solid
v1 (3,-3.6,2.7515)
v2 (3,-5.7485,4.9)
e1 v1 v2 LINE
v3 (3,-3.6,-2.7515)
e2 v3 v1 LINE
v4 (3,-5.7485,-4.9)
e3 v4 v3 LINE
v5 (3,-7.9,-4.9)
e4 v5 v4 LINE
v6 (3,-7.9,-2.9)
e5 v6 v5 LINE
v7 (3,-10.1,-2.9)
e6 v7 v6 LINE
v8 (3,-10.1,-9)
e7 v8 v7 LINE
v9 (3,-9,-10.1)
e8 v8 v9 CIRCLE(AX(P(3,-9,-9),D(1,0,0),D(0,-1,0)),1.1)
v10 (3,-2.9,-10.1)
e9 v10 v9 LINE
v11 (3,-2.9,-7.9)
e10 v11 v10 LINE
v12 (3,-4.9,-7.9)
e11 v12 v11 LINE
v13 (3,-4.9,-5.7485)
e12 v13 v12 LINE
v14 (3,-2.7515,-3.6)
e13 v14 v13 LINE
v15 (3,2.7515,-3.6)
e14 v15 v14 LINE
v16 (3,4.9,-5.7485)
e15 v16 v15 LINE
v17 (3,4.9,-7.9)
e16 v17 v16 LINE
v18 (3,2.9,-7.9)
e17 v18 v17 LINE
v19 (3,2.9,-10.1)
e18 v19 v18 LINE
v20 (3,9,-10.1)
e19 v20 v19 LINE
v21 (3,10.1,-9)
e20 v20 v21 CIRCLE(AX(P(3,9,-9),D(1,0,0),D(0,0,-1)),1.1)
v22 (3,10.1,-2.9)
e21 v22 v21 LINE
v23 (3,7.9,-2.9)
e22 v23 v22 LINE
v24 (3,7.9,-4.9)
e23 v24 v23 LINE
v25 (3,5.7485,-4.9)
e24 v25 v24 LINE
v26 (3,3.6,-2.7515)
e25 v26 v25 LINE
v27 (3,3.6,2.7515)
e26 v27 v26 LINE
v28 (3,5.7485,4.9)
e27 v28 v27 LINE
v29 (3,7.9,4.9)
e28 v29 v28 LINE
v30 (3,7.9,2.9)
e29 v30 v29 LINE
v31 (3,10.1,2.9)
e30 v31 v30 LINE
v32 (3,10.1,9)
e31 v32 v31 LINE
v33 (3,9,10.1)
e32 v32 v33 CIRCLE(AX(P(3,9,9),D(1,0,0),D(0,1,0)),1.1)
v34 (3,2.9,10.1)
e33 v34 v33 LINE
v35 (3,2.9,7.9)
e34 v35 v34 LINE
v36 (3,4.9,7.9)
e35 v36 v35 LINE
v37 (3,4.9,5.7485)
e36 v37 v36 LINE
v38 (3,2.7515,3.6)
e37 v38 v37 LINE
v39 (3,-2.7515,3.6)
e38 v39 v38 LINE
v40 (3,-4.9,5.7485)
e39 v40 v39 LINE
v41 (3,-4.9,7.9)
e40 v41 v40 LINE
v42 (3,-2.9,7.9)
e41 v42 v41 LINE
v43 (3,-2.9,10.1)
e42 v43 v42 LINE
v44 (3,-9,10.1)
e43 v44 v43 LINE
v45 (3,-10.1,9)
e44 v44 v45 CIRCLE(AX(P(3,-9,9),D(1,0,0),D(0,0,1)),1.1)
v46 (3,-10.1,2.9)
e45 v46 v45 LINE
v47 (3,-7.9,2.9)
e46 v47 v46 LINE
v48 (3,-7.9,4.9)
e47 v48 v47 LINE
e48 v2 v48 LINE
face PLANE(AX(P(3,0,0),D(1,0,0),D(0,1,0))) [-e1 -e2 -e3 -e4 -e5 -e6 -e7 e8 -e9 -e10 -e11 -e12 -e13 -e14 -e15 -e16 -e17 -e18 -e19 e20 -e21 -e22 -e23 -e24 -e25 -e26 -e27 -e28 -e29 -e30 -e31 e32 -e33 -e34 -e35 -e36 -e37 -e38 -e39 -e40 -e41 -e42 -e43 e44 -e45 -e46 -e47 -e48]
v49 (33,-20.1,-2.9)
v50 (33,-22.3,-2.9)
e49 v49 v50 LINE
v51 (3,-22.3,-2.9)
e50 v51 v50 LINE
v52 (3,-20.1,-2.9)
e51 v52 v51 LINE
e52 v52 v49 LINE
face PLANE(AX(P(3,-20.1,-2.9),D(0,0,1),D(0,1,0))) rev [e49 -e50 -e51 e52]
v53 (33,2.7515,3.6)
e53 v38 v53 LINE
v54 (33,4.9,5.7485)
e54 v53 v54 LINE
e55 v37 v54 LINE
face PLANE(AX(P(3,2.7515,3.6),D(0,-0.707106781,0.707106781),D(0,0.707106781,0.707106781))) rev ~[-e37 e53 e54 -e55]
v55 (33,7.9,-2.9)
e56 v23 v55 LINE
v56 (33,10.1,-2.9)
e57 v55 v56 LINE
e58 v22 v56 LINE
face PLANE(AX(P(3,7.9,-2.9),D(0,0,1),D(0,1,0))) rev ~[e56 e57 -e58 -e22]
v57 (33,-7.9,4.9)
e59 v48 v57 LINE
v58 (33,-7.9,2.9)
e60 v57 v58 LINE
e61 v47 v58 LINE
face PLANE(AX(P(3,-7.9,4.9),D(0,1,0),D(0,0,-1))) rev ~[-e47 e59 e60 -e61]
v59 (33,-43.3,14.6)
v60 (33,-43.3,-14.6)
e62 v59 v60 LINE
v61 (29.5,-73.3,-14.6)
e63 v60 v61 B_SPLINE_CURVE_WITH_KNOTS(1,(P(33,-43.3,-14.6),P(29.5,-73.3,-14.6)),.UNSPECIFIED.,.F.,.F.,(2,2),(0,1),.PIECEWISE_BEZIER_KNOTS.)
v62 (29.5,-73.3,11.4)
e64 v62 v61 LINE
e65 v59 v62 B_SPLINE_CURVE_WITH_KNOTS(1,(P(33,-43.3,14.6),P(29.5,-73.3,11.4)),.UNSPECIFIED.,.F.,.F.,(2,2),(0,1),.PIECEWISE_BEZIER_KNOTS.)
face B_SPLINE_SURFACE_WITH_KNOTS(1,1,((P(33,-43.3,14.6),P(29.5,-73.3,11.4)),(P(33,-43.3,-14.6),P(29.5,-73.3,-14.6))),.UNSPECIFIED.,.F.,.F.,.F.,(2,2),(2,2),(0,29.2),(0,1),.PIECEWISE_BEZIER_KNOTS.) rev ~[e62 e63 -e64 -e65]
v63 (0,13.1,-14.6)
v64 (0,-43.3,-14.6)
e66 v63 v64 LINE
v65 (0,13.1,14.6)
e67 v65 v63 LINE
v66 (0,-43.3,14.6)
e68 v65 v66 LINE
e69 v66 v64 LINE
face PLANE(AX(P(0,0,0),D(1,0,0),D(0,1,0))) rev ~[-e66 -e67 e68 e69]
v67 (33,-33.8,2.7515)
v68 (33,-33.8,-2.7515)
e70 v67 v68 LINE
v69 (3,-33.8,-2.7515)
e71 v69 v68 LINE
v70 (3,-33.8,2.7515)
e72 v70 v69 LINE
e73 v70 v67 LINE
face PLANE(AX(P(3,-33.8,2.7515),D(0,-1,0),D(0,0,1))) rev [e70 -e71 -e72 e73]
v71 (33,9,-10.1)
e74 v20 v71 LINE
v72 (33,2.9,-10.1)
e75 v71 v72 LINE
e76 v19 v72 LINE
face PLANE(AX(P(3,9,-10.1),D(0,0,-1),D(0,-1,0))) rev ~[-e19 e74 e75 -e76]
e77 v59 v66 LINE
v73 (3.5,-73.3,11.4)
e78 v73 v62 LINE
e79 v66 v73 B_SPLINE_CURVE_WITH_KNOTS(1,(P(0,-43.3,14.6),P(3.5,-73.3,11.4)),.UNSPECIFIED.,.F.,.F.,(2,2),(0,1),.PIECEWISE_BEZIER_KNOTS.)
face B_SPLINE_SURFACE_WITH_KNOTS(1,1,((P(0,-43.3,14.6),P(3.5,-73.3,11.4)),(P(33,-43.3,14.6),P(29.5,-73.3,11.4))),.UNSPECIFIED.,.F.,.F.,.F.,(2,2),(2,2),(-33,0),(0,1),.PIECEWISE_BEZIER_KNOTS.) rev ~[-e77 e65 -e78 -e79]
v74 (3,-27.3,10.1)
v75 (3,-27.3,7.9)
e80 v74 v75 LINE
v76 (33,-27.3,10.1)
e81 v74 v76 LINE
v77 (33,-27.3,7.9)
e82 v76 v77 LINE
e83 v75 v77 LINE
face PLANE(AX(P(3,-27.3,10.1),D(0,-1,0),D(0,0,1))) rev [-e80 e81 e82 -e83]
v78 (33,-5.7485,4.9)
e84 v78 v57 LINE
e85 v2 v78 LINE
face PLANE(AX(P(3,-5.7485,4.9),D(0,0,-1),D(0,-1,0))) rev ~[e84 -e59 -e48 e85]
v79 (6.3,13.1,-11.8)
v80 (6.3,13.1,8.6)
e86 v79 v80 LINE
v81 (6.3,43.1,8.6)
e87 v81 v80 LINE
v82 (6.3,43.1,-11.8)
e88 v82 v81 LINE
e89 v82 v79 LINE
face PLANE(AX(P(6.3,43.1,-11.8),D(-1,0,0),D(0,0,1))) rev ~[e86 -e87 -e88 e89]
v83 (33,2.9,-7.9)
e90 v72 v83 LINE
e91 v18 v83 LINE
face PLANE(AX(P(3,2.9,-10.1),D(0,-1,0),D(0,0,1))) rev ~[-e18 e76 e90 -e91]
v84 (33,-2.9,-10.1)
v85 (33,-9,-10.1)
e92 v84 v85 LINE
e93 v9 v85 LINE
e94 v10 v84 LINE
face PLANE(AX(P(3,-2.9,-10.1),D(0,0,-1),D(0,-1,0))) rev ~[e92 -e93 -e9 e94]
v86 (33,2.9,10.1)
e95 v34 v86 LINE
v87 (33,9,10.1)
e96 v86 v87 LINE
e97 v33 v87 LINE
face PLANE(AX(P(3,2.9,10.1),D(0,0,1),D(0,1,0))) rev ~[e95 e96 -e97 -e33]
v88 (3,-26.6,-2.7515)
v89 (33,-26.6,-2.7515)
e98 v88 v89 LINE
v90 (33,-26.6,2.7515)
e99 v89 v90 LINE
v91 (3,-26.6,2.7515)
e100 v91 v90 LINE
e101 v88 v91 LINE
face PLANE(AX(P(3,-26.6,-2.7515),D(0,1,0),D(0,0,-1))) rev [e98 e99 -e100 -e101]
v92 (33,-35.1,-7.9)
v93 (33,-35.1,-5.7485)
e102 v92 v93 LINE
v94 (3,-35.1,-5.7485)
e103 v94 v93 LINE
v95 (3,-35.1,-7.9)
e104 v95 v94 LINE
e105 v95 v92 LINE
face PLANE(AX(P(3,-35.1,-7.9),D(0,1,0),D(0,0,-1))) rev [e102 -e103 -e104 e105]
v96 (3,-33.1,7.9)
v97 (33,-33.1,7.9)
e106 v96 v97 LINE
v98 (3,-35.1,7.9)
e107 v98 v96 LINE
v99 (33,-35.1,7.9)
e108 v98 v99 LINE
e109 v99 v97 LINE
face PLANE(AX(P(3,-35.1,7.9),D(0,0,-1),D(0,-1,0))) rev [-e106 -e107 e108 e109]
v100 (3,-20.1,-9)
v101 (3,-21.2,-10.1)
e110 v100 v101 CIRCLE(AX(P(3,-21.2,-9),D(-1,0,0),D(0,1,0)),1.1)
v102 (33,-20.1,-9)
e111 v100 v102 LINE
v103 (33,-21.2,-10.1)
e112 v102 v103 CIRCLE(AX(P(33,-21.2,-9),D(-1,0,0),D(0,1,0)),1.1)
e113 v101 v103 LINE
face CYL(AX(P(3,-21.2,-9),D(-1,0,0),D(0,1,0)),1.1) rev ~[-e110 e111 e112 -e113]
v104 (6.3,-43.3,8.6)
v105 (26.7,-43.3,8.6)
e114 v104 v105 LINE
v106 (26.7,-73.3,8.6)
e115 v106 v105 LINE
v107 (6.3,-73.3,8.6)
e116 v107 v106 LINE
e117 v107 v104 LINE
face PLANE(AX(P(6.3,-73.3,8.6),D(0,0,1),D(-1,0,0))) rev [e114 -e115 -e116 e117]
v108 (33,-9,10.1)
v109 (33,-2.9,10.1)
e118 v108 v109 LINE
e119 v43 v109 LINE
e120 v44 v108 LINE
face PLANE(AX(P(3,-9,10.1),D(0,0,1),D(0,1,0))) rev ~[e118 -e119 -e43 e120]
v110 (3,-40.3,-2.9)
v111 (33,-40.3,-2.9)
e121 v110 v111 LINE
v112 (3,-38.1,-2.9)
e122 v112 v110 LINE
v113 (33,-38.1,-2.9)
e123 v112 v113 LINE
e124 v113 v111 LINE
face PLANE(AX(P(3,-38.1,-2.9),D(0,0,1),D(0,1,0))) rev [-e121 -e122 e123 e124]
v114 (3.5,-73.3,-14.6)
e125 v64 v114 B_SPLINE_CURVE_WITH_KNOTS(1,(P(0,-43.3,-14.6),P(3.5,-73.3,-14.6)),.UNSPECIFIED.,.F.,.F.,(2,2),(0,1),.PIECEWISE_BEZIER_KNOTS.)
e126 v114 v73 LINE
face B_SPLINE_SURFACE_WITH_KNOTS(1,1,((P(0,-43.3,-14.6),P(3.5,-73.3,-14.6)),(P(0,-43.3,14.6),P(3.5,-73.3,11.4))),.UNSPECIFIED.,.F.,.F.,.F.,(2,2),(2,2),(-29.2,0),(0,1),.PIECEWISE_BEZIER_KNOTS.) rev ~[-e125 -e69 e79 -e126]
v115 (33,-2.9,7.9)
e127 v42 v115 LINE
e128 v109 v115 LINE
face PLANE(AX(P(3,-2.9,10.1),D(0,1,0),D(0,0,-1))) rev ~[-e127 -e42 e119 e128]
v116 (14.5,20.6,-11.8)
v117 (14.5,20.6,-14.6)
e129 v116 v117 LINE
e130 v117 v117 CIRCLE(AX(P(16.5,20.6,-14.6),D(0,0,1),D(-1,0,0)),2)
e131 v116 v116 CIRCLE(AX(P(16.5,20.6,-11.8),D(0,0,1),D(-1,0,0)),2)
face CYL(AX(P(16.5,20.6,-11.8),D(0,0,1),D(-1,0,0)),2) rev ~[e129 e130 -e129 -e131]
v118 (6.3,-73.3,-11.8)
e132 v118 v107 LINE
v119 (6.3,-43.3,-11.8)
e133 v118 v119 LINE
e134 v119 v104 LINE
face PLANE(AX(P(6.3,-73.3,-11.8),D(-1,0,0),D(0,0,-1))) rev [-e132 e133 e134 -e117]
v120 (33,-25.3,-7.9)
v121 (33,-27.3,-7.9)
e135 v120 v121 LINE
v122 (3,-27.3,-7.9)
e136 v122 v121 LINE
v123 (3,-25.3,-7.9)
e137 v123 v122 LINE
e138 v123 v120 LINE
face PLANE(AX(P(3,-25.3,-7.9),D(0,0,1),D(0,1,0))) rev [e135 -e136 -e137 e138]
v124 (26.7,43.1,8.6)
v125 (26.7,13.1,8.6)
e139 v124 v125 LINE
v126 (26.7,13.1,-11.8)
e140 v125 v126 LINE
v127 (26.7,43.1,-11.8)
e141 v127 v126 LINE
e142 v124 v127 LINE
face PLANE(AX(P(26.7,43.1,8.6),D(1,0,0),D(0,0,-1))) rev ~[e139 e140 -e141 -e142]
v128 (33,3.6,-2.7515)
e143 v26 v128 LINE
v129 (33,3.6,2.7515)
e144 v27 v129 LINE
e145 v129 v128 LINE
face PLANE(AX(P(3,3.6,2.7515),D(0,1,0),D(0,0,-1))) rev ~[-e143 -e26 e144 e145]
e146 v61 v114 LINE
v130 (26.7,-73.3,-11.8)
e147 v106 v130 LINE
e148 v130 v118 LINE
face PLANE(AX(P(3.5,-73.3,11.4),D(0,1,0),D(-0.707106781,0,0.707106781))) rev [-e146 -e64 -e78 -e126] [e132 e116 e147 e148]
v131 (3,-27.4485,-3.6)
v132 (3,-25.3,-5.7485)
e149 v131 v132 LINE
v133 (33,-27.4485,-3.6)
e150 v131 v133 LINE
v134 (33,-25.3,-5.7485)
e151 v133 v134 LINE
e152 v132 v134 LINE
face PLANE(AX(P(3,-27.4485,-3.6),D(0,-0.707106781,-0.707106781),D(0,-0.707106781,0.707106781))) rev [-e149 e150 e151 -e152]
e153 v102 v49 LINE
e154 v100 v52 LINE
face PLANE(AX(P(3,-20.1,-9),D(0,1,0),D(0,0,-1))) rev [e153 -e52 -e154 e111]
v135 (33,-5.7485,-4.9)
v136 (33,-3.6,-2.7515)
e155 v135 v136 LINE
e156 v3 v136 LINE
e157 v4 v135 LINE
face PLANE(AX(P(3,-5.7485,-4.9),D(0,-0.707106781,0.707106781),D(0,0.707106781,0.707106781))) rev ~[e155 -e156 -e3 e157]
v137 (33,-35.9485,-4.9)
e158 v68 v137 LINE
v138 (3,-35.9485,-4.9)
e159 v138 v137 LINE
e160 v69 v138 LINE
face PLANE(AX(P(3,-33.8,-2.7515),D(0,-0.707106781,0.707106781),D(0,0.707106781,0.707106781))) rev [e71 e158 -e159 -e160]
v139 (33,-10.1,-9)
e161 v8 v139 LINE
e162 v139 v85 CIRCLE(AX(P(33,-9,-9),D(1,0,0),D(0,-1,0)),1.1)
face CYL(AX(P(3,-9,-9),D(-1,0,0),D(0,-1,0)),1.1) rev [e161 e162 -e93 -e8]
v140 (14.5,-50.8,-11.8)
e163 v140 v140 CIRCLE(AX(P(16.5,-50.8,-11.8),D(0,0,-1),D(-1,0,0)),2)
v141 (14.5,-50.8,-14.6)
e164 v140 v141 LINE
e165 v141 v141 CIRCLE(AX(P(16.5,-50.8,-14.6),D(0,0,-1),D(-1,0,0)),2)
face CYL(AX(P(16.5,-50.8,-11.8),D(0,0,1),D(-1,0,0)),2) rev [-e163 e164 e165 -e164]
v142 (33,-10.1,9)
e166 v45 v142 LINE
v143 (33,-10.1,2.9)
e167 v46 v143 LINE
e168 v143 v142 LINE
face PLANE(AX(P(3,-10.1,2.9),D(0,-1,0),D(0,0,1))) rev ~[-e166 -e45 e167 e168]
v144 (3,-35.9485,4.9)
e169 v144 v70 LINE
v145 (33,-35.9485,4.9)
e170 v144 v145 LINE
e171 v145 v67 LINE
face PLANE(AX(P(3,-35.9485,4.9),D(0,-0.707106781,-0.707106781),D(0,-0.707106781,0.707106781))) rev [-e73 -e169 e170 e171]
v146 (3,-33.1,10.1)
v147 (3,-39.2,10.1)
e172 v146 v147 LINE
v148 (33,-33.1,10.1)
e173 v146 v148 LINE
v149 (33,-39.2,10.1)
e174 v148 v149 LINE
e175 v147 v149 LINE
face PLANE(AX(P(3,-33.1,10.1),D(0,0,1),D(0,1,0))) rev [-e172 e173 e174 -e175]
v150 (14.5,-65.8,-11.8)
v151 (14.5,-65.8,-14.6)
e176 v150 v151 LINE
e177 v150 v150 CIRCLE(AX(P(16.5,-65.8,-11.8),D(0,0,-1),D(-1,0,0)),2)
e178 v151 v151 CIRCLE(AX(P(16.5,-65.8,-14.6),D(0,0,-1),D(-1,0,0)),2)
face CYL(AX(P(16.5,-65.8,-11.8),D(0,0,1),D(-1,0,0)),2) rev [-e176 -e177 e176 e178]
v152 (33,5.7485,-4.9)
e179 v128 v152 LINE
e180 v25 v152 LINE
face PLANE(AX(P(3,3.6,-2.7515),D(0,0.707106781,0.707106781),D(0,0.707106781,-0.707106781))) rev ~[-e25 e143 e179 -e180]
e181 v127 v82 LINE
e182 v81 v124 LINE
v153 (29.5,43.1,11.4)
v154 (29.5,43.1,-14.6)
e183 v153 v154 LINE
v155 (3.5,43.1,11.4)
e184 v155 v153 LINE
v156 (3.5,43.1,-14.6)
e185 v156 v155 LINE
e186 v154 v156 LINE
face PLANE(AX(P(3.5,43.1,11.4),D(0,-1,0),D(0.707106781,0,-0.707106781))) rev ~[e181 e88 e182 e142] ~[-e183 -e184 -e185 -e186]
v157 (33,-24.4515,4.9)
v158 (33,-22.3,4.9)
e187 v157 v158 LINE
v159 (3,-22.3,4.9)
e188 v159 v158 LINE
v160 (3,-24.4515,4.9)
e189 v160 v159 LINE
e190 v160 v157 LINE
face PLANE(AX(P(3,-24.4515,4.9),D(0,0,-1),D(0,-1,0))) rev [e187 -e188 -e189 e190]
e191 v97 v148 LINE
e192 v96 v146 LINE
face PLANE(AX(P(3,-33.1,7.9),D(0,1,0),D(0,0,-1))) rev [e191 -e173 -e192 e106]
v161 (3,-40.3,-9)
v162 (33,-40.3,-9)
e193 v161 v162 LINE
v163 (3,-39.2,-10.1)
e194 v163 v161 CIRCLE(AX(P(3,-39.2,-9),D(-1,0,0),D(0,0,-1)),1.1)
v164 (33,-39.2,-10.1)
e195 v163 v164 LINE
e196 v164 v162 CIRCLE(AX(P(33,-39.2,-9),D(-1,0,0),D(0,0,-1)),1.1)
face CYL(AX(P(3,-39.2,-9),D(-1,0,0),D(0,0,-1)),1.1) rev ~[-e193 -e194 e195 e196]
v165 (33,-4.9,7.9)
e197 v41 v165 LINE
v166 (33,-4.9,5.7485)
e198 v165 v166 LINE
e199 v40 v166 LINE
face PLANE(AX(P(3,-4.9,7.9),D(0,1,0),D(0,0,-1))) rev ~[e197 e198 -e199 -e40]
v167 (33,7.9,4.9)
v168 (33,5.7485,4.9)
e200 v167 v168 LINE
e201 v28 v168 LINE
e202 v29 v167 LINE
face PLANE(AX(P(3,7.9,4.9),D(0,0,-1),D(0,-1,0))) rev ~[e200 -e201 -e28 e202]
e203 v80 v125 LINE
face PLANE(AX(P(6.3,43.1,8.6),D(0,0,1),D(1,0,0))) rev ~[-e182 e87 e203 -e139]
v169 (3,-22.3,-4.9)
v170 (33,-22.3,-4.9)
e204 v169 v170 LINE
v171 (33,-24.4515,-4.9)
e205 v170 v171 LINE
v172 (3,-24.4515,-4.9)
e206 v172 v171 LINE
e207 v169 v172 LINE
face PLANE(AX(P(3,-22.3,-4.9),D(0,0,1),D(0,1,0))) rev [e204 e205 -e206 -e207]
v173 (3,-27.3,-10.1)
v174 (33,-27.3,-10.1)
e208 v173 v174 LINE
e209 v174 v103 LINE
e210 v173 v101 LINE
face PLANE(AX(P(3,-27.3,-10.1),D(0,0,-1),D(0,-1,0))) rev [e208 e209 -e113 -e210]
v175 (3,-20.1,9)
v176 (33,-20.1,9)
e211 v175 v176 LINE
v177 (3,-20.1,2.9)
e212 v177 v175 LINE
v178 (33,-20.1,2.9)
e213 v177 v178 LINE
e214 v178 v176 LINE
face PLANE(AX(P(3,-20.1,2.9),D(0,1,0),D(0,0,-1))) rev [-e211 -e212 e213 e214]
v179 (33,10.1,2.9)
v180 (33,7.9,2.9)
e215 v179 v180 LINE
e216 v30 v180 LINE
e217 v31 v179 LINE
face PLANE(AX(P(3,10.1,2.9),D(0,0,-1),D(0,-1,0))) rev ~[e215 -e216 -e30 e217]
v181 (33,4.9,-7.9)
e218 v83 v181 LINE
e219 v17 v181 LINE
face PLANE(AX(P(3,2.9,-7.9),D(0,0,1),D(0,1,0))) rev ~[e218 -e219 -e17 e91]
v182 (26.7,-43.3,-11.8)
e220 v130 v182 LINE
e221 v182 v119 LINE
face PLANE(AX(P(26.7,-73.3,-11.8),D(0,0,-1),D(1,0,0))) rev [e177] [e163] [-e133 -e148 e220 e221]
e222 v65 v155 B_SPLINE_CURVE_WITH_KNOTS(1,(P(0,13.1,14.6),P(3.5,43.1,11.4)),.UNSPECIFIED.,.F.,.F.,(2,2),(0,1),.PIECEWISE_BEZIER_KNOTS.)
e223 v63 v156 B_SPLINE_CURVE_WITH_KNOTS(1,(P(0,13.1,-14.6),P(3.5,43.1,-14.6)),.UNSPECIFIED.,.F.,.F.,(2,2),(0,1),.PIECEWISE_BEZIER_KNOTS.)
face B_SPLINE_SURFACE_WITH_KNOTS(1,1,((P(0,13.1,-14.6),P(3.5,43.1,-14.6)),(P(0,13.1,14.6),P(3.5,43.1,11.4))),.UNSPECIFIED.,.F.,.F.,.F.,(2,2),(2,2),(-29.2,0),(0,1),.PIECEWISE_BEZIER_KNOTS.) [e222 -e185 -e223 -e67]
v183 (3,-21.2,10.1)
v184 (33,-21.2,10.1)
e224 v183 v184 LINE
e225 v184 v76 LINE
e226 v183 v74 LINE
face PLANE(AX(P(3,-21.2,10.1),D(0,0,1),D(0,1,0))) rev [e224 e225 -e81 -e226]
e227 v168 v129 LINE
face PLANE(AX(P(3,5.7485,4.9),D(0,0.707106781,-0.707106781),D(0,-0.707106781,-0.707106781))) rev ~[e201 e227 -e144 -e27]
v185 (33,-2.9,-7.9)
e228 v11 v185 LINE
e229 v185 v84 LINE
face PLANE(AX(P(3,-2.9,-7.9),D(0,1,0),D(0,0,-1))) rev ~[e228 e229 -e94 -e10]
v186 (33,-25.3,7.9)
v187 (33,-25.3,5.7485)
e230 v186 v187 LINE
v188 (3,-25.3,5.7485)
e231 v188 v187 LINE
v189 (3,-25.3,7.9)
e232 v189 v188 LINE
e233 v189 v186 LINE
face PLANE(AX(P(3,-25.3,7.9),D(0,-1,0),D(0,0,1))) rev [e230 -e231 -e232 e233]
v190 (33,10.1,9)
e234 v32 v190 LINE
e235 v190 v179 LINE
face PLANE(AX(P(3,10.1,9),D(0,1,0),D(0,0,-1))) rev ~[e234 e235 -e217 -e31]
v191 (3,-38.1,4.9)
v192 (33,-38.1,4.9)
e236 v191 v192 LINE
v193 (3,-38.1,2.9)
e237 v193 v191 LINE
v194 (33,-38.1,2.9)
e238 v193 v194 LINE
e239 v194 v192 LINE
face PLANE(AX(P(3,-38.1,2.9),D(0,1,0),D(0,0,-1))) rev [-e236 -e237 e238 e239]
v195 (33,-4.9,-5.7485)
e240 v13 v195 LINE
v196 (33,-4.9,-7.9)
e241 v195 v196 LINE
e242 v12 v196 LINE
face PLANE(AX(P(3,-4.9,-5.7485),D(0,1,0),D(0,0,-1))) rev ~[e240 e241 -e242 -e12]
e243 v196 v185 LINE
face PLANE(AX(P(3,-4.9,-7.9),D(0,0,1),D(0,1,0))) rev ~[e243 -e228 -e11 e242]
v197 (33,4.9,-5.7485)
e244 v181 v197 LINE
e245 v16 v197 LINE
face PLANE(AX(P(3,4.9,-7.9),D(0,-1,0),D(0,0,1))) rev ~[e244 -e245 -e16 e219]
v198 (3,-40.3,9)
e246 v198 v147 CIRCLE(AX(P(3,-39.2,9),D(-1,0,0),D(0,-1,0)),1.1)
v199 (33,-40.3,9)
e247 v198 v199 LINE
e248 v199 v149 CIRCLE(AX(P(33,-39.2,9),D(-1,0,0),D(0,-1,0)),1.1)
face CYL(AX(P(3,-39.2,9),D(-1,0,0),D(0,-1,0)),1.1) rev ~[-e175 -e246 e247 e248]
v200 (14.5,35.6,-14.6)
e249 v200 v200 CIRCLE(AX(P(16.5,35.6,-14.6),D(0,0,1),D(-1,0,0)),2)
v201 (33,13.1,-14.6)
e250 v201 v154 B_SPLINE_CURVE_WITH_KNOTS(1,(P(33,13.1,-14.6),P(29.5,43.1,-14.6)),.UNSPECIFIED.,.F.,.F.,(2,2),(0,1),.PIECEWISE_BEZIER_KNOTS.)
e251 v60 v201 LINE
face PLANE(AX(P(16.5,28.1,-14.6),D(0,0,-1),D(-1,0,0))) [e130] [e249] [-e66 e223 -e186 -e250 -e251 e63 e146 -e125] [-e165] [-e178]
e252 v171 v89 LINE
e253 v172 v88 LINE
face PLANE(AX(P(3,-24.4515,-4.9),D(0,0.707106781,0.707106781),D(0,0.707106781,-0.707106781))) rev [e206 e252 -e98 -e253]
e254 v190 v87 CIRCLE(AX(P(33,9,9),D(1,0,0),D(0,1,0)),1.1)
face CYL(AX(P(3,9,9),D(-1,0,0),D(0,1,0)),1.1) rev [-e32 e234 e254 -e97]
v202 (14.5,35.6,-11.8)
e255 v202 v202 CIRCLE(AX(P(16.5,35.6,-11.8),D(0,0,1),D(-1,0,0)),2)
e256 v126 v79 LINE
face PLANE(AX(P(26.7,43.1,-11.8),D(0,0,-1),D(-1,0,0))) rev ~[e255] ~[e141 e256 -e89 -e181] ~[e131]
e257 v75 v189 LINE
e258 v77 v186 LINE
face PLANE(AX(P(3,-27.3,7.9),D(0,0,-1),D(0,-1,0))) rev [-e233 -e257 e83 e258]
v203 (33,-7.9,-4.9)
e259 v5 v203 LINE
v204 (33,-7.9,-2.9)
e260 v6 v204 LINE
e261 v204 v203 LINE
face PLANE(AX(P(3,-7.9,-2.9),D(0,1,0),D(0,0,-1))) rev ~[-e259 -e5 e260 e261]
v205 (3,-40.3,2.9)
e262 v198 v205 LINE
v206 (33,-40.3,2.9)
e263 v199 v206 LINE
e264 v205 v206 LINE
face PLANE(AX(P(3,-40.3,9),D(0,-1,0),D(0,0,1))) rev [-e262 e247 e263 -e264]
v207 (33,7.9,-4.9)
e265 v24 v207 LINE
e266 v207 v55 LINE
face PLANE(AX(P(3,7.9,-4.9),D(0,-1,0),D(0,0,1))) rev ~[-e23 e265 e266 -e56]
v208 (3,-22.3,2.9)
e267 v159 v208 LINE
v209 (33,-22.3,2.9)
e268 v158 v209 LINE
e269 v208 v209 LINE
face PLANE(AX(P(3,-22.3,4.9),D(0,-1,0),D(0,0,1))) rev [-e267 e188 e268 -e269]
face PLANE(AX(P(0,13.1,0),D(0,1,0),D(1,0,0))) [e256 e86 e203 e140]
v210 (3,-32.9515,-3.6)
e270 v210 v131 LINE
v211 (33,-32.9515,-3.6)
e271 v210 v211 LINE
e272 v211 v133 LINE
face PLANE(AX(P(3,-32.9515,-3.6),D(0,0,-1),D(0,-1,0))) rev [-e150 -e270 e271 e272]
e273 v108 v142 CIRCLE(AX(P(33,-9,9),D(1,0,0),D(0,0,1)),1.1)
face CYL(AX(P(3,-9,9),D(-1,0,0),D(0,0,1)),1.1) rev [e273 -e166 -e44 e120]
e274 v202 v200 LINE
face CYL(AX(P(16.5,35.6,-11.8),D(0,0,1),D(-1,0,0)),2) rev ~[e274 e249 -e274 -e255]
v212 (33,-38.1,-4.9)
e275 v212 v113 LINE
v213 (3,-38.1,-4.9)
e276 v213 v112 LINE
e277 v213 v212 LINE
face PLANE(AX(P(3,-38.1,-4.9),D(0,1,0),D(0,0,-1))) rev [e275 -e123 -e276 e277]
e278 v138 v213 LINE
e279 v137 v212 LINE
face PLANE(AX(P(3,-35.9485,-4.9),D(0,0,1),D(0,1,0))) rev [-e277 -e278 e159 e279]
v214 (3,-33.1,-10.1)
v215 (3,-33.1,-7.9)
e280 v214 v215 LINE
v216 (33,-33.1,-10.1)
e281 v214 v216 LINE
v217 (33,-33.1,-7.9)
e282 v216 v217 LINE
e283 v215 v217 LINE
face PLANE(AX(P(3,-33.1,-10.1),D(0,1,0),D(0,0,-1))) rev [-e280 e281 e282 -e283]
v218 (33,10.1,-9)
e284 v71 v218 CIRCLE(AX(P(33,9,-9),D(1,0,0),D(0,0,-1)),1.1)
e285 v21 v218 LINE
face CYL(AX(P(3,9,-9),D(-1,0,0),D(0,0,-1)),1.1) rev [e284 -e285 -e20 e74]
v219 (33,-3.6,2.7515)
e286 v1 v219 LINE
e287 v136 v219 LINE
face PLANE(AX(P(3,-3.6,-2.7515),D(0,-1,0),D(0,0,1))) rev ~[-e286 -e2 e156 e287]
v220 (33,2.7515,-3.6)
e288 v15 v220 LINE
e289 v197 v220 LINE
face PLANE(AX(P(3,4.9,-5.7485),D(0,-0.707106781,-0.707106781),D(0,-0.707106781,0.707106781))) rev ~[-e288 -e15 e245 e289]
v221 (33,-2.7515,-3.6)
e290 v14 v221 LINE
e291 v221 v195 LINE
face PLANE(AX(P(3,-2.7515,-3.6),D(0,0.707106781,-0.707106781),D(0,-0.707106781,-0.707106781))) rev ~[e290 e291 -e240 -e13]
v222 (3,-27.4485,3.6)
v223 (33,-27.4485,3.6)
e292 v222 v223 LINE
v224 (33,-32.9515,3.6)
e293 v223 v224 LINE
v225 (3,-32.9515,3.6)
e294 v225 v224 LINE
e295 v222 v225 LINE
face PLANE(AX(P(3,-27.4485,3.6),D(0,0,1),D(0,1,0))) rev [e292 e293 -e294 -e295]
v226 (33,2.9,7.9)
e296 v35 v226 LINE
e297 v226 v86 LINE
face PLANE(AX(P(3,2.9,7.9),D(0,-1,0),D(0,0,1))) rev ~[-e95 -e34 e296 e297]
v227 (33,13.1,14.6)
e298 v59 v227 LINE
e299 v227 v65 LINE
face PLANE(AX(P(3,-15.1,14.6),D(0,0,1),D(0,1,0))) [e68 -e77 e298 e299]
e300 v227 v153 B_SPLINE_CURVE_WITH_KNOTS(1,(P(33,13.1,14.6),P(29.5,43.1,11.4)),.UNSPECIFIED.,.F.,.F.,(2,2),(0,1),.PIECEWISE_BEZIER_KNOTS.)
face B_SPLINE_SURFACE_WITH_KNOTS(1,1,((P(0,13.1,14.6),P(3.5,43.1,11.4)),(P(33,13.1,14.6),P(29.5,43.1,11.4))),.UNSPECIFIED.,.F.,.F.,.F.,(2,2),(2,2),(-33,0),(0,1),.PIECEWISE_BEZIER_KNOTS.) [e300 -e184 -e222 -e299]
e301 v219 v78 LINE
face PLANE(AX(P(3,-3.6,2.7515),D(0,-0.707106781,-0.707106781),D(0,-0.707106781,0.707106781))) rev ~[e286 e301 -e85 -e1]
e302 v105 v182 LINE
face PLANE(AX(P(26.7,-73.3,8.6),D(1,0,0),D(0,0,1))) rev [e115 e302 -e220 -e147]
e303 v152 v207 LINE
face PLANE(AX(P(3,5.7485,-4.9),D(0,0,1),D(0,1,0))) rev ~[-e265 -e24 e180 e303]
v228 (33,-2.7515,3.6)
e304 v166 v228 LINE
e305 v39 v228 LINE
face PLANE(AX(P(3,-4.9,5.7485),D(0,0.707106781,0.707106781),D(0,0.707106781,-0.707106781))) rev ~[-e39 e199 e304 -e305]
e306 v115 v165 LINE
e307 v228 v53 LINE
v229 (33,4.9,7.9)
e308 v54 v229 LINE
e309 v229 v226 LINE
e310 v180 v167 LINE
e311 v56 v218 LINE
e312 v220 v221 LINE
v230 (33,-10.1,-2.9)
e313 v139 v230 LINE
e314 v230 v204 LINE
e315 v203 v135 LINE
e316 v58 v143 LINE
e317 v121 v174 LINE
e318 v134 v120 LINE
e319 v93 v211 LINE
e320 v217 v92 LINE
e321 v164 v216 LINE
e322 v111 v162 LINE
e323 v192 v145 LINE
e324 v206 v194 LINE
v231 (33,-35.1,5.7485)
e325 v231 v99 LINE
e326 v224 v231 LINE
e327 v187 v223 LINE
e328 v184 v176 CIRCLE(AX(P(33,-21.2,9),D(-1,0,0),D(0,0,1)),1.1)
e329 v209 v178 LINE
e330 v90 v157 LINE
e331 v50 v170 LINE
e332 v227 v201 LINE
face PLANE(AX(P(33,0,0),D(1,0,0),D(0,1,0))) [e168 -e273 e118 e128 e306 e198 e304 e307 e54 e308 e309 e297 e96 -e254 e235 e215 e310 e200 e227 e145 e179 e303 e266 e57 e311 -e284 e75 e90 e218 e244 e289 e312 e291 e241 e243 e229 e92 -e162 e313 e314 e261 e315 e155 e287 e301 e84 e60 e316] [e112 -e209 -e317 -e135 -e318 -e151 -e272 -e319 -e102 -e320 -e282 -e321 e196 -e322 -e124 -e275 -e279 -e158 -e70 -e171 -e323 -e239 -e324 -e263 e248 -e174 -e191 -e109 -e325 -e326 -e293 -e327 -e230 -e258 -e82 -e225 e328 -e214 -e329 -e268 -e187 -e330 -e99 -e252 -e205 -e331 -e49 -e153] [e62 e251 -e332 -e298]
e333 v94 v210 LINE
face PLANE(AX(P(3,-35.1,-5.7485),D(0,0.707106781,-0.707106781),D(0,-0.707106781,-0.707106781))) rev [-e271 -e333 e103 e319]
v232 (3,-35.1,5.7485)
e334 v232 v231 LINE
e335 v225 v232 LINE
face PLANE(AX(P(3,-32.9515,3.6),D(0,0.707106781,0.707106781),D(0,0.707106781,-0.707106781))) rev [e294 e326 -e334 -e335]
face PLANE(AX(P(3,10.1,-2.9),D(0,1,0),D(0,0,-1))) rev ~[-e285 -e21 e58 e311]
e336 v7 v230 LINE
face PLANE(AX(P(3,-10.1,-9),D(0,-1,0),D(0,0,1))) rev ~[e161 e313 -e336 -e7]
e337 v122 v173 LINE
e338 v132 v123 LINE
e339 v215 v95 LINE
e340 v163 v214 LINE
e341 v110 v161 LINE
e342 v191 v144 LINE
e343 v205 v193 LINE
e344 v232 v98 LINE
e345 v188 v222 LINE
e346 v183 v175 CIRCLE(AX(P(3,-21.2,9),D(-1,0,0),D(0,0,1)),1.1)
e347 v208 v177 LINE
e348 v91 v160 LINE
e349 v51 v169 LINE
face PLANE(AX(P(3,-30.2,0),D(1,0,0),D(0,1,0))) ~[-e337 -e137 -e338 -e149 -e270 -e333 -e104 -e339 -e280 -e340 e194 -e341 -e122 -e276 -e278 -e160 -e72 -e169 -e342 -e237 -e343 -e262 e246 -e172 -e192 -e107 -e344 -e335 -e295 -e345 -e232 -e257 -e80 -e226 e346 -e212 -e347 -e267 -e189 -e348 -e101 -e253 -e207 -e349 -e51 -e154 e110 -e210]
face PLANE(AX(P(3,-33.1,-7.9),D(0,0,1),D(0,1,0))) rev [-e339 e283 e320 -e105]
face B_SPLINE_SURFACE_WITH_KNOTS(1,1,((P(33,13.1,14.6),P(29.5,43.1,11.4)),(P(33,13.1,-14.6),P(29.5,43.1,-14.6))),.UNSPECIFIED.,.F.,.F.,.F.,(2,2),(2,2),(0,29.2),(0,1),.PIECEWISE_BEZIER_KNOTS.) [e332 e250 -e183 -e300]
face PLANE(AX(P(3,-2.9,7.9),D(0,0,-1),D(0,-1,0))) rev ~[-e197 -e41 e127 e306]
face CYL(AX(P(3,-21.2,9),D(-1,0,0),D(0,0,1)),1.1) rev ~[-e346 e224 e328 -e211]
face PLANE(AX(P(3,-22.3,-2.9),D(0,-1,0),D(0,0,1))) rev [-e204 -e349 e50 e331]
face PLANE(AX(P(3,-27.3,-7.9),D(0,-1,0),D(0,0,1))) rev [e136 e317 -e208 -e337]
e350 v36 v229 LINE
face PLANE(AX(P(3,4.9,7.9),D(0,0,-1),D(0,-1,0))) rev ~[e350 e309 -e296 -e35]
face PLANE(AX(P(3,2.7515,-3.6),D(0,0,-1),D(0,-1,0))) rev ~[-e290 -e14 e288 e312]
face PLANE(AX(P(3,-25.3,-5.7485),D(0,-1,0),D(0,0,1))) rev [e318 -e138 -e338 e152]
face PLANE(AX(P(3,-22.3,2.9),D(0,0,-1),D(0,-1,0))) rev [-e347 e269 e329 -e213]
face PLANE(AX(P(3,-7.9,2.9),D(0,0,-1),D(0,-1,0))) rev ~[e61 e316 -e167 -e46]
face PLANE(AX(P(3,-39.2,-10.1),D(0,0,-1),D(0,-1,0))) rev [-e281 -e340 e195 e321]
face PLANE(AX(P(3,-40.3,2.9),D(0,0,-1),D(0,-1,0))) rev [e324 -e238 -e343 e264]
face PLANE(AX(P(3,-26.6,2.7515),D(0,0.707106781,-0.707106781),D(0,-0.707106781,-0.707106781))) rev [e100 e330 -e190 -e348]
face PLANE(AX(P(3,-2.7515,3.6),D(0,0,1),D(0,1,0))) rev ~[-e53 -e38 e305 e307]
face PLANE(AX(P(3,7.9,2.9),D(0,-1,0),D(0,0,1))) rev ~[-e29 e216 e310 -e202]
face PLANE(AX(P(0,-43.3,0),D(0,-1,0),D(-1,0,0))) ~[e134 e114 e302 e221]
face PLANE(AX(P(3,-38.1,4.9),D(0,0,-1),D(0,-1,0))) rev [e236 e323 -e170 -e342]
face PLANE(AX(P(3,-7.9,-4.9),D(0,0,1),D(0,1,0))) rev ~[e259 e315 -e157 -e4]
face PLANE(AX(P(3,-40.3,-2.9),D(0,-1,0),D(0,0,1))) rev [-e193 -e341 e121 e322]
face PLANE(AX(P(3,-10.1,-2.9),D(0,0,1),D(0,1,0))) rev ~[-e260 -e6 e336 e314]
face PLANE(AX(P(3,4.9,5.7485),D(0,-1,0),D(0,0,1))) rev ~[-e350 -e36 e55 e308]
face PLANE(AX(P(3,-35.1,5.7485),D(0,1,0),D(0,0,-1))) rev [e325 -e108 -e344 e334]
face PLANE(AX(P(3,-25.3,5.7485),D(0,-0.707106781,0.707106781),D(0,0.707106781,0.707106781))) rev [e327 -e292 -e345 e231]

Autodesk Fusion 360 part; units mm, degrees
sketch "Sketch1" plane through (0, 0, 0) normal (1, 0, 0) x (0, 1, 0)
  line L0 (7.9, 2.9) -> (7.9, 4.9)
  line L1 (-2.7515, -3.6) -> (-4.9, -5.7485)
  line L2 (2.9, -7.9) -> (4.9, -7.9)
  line L3 (-2.9, -7.9) -> (-2.9, -10.1)
  arc A0 (-10.1, -9) -> (-9, -10.1) centre (-9, -9) ccw
  line L4 (5.7485, 4.9) -> (3.6, 2.7515)
  line L5 (-7.9, 2.9) -> (-10.1, 2.9)
  line L6 (-4.9, -7.9) -> (-2.9, -7.9)
  line L7 (4.9, 5.7485) -> (4.9, 7.9)
  line L8 (10.1, 2.9) -> (7.9, 2.9)
  line L9 (9, -10.1) -> (2.9, -10.1)
  arc A1 (9, -10.1) -> (10.1, -9) centre (9, -9) ccw
  line L10 (4.9, -5.7485) -> (2.7515, -3.6)
  line L11 (5.7485, -4.9) -> (7.9, -4.9)
  line L12 (-10.1, 2.9) -> (-10.1, 9)
  line L13 (7.9, -2.9) -> (10.1, -2.9)
  line L14 (-3.6, 2.7515) -> (-5.7485, 4.9)
  line L15 (10.1, -2.9) -> (10.1, -9)
  line L16 (-2.9, 10.1) -> (-2.9, 7.9)
  line L17 (7.9, -4.9) -> (7.9, -2.9)
  line L18 (-3.6, -2.7515) -> (-3.6, 2.7515)
  line L19 (3.6, 2.7515) -> (3.6, -2.7515)
  line L20 (2.7515, -3.6) -> (-2.7515, -3.6)
  line L21 (-10.1, -9) -> (-10.1, -2.9)
  line L22 (10.1, 9) -> (10.1, 2.9)
  line L23 (2.9, 7.9) -> (2.9, 10.1)
  line L24 (7.9, 4.9) -> (5.7485, 4.9)
  line L25 (-2.9, -10.1) -> (-9, -10.1)
  line L26 (-2.7515, 3.6) -> (2.7515, 3.6)
  arc A2 (-9, 10.1) -> (-10.1, 9) centre (-9, 9) ccw
  line L27 (4.9, 7.9) -> (2.9, 7.9)
  line L28 (-7.9, -4.9) -> (-5.7485, -4.9)
  line L29 (2.9, 10.1) -> (9, 10.1)
  arc A3 (10.1, 9) -> (9, 10.1) centre (9, 9) ccw
  line L30 (-4.9, -5.7485) -> (-4.9, -7.9)
  line L31 (-7.9, -2.9) -> (-7.9, -4.9)
  line L32 (-4.9, 7.9) -> (-4.9, 5.7485)
  line L33 (2.7515, 3.6) -> (4.9, 5.7485)
  line L34 (-4.9, 5.7485) -> (-2.7515, 3.6)
  line L35 (-10.1, -2.9) -> (-7.9, -2.9)
  line L36 (3.6, -2.7515) -> (5.7485, -4.9)
  line L37 (4.9, -7.9) -> (4.9, -5.7485)
  line L38 (2.9, -10.1) -> (2.9, -7.9)
  line L39 (-5.7485, -4.9) -> (-3.6, -2.7515)
  line L40 (-7.9, 4.9) -> (-7.9, 2.9)
  line L41 (-2.9, 7.9) -> (-4.9, 7.9)
  line L42 (-9, 10.1) -> (-2.9, 10.1)
  line L43 (-5.7485, 4.9) -> (-7.9, 4.9)
  line L44 (-15.1, 14.6) -> (13.1, 14.6)
  line L45 (13.1, 14.6) -> (13.1, -14.6)
  line L46 (13.1, -14.6) -> (-15.1, -14.6)
  line L47 (-15.1, -14.6) -> (-15.1, 14.6)
  dimension "d25" = 4.5
  dimension "d26" = 4.5
  dimension "d27" = 3
  dimension "d28" = 5
extrude "Extrude1" add sketch "Sketch1" along normal blind 3 contours L0 L1 L2 L3 A0 L4 L5 L6 L7 L8 L9 A1 L10 L11 L12 L13 L14 L15 L16 L17 L18 L19 L20 L21 L22 L23 L24 L25 L26 A2 L27 L28 L29 A3 L30 L31 L32 L33 L34 L35 L36 L37 L38 L39 L40 L41 L42 L43 | L44 L45 L46 L47
extrude "Extrude2" add sketch "Sketch1" along normal blind 30 from surface at 3
ref_plane "WorkPlane1" through (16.5, 43.1, 0) normal (0, 1, 0) x (0, 0, 1)
sketch "Sketch2" plane through (0, 43.1, 0) normal (0, 1, 0) x (1, 0, 0)
  line L0 (29.5, 14.6) -> (3.5, 14.6)
  line L1 (3.5, 14.6) -> (3.5, -11.4)
  line L2 (3.5, -11.4) -> (29.5, -11.4)
  line L3 (29.5, -11.4) -> (29.5, 14.6)
  line L4 (26.7, 11.8) -> (6.3, 11.8)
  line L5 (6.3, 11.8) -> (6.3, -8.6)
  line L6 (6.3, -8.6) -> (26.7, -8.6)
  line L7 (26.7, -8.6) -> (26.7, 11.8)
  line L8 (16.5, -14.6) -> (16.5, 14.6) construction
  line L9 (0, -14.6) -> (33, -14.6)
  line L10 (0, 14.6) -> (33, 14.6)
  line L11 (0, -14.6) -> (0, 14.6)
  line L12 (33, 14.6) -> (33, -14.6)
  dimension "d15" = 20.4
  dimension "d16" = 20.4
  dimension "d17" = 2.8
  dimension "d18" = 2.8
  dimension "d23" = 2.8
  dimension "d29" = 2.8
loft "Loft1" add profiles "Sketch2" section 1 face at (22, 13.1, 4.8667) section 2 contours L0 L1 L2 L3 L10 | L4 L5 L6 L7
extrude "Extrude3" cut sketch "Sketch2" against normal blind 30 contours L4 L5 L6 L7
sketch "Sketch3" plane through (0, 0, -11.8) normal (0, 0, 1) x (-1, 0, 0)
  line L0 (-26.7, -43.1) -> (-6.3, -43.1)
  line L1 (-6.3, -43.1) -> (-6.3, -13.1)
  line L2 (-6.3, -13.1) -> (-26.7, -13.1)
  line L3 (-26.7, -13.1) -> (-26.7, -43.1)
  line L4 (-16.5, -43.1) -> (-16.5, -13.1) construction
  circle A0 centre (-16.5, -35.6) radius 2
  circle A1 centre (-16.5, -20.6) radius 2
  dimension "d30" = 7.5
  dimension "d31" = 15
  dimension "d32" = 4
extrude "Extrude4" cut sketch "Sketch3" against normal blind 5 contours A0 | A1
mirror "Mirror1" about plane through (3, -15.1, -14.6) normal (0, -1, 0) of bodies 1 merged
equation "gap = 0.2 mm"
equation "d15 = 20 mm + 2 * gap"
equation "d16 = 20 mm + 2 * gap"
equation "d17 = 3 mm - gap"
equation "d18 = 3 mm - gap"
equation "d23 = 3 mm - gap"
equation "d29 = 3 mm - gap"
